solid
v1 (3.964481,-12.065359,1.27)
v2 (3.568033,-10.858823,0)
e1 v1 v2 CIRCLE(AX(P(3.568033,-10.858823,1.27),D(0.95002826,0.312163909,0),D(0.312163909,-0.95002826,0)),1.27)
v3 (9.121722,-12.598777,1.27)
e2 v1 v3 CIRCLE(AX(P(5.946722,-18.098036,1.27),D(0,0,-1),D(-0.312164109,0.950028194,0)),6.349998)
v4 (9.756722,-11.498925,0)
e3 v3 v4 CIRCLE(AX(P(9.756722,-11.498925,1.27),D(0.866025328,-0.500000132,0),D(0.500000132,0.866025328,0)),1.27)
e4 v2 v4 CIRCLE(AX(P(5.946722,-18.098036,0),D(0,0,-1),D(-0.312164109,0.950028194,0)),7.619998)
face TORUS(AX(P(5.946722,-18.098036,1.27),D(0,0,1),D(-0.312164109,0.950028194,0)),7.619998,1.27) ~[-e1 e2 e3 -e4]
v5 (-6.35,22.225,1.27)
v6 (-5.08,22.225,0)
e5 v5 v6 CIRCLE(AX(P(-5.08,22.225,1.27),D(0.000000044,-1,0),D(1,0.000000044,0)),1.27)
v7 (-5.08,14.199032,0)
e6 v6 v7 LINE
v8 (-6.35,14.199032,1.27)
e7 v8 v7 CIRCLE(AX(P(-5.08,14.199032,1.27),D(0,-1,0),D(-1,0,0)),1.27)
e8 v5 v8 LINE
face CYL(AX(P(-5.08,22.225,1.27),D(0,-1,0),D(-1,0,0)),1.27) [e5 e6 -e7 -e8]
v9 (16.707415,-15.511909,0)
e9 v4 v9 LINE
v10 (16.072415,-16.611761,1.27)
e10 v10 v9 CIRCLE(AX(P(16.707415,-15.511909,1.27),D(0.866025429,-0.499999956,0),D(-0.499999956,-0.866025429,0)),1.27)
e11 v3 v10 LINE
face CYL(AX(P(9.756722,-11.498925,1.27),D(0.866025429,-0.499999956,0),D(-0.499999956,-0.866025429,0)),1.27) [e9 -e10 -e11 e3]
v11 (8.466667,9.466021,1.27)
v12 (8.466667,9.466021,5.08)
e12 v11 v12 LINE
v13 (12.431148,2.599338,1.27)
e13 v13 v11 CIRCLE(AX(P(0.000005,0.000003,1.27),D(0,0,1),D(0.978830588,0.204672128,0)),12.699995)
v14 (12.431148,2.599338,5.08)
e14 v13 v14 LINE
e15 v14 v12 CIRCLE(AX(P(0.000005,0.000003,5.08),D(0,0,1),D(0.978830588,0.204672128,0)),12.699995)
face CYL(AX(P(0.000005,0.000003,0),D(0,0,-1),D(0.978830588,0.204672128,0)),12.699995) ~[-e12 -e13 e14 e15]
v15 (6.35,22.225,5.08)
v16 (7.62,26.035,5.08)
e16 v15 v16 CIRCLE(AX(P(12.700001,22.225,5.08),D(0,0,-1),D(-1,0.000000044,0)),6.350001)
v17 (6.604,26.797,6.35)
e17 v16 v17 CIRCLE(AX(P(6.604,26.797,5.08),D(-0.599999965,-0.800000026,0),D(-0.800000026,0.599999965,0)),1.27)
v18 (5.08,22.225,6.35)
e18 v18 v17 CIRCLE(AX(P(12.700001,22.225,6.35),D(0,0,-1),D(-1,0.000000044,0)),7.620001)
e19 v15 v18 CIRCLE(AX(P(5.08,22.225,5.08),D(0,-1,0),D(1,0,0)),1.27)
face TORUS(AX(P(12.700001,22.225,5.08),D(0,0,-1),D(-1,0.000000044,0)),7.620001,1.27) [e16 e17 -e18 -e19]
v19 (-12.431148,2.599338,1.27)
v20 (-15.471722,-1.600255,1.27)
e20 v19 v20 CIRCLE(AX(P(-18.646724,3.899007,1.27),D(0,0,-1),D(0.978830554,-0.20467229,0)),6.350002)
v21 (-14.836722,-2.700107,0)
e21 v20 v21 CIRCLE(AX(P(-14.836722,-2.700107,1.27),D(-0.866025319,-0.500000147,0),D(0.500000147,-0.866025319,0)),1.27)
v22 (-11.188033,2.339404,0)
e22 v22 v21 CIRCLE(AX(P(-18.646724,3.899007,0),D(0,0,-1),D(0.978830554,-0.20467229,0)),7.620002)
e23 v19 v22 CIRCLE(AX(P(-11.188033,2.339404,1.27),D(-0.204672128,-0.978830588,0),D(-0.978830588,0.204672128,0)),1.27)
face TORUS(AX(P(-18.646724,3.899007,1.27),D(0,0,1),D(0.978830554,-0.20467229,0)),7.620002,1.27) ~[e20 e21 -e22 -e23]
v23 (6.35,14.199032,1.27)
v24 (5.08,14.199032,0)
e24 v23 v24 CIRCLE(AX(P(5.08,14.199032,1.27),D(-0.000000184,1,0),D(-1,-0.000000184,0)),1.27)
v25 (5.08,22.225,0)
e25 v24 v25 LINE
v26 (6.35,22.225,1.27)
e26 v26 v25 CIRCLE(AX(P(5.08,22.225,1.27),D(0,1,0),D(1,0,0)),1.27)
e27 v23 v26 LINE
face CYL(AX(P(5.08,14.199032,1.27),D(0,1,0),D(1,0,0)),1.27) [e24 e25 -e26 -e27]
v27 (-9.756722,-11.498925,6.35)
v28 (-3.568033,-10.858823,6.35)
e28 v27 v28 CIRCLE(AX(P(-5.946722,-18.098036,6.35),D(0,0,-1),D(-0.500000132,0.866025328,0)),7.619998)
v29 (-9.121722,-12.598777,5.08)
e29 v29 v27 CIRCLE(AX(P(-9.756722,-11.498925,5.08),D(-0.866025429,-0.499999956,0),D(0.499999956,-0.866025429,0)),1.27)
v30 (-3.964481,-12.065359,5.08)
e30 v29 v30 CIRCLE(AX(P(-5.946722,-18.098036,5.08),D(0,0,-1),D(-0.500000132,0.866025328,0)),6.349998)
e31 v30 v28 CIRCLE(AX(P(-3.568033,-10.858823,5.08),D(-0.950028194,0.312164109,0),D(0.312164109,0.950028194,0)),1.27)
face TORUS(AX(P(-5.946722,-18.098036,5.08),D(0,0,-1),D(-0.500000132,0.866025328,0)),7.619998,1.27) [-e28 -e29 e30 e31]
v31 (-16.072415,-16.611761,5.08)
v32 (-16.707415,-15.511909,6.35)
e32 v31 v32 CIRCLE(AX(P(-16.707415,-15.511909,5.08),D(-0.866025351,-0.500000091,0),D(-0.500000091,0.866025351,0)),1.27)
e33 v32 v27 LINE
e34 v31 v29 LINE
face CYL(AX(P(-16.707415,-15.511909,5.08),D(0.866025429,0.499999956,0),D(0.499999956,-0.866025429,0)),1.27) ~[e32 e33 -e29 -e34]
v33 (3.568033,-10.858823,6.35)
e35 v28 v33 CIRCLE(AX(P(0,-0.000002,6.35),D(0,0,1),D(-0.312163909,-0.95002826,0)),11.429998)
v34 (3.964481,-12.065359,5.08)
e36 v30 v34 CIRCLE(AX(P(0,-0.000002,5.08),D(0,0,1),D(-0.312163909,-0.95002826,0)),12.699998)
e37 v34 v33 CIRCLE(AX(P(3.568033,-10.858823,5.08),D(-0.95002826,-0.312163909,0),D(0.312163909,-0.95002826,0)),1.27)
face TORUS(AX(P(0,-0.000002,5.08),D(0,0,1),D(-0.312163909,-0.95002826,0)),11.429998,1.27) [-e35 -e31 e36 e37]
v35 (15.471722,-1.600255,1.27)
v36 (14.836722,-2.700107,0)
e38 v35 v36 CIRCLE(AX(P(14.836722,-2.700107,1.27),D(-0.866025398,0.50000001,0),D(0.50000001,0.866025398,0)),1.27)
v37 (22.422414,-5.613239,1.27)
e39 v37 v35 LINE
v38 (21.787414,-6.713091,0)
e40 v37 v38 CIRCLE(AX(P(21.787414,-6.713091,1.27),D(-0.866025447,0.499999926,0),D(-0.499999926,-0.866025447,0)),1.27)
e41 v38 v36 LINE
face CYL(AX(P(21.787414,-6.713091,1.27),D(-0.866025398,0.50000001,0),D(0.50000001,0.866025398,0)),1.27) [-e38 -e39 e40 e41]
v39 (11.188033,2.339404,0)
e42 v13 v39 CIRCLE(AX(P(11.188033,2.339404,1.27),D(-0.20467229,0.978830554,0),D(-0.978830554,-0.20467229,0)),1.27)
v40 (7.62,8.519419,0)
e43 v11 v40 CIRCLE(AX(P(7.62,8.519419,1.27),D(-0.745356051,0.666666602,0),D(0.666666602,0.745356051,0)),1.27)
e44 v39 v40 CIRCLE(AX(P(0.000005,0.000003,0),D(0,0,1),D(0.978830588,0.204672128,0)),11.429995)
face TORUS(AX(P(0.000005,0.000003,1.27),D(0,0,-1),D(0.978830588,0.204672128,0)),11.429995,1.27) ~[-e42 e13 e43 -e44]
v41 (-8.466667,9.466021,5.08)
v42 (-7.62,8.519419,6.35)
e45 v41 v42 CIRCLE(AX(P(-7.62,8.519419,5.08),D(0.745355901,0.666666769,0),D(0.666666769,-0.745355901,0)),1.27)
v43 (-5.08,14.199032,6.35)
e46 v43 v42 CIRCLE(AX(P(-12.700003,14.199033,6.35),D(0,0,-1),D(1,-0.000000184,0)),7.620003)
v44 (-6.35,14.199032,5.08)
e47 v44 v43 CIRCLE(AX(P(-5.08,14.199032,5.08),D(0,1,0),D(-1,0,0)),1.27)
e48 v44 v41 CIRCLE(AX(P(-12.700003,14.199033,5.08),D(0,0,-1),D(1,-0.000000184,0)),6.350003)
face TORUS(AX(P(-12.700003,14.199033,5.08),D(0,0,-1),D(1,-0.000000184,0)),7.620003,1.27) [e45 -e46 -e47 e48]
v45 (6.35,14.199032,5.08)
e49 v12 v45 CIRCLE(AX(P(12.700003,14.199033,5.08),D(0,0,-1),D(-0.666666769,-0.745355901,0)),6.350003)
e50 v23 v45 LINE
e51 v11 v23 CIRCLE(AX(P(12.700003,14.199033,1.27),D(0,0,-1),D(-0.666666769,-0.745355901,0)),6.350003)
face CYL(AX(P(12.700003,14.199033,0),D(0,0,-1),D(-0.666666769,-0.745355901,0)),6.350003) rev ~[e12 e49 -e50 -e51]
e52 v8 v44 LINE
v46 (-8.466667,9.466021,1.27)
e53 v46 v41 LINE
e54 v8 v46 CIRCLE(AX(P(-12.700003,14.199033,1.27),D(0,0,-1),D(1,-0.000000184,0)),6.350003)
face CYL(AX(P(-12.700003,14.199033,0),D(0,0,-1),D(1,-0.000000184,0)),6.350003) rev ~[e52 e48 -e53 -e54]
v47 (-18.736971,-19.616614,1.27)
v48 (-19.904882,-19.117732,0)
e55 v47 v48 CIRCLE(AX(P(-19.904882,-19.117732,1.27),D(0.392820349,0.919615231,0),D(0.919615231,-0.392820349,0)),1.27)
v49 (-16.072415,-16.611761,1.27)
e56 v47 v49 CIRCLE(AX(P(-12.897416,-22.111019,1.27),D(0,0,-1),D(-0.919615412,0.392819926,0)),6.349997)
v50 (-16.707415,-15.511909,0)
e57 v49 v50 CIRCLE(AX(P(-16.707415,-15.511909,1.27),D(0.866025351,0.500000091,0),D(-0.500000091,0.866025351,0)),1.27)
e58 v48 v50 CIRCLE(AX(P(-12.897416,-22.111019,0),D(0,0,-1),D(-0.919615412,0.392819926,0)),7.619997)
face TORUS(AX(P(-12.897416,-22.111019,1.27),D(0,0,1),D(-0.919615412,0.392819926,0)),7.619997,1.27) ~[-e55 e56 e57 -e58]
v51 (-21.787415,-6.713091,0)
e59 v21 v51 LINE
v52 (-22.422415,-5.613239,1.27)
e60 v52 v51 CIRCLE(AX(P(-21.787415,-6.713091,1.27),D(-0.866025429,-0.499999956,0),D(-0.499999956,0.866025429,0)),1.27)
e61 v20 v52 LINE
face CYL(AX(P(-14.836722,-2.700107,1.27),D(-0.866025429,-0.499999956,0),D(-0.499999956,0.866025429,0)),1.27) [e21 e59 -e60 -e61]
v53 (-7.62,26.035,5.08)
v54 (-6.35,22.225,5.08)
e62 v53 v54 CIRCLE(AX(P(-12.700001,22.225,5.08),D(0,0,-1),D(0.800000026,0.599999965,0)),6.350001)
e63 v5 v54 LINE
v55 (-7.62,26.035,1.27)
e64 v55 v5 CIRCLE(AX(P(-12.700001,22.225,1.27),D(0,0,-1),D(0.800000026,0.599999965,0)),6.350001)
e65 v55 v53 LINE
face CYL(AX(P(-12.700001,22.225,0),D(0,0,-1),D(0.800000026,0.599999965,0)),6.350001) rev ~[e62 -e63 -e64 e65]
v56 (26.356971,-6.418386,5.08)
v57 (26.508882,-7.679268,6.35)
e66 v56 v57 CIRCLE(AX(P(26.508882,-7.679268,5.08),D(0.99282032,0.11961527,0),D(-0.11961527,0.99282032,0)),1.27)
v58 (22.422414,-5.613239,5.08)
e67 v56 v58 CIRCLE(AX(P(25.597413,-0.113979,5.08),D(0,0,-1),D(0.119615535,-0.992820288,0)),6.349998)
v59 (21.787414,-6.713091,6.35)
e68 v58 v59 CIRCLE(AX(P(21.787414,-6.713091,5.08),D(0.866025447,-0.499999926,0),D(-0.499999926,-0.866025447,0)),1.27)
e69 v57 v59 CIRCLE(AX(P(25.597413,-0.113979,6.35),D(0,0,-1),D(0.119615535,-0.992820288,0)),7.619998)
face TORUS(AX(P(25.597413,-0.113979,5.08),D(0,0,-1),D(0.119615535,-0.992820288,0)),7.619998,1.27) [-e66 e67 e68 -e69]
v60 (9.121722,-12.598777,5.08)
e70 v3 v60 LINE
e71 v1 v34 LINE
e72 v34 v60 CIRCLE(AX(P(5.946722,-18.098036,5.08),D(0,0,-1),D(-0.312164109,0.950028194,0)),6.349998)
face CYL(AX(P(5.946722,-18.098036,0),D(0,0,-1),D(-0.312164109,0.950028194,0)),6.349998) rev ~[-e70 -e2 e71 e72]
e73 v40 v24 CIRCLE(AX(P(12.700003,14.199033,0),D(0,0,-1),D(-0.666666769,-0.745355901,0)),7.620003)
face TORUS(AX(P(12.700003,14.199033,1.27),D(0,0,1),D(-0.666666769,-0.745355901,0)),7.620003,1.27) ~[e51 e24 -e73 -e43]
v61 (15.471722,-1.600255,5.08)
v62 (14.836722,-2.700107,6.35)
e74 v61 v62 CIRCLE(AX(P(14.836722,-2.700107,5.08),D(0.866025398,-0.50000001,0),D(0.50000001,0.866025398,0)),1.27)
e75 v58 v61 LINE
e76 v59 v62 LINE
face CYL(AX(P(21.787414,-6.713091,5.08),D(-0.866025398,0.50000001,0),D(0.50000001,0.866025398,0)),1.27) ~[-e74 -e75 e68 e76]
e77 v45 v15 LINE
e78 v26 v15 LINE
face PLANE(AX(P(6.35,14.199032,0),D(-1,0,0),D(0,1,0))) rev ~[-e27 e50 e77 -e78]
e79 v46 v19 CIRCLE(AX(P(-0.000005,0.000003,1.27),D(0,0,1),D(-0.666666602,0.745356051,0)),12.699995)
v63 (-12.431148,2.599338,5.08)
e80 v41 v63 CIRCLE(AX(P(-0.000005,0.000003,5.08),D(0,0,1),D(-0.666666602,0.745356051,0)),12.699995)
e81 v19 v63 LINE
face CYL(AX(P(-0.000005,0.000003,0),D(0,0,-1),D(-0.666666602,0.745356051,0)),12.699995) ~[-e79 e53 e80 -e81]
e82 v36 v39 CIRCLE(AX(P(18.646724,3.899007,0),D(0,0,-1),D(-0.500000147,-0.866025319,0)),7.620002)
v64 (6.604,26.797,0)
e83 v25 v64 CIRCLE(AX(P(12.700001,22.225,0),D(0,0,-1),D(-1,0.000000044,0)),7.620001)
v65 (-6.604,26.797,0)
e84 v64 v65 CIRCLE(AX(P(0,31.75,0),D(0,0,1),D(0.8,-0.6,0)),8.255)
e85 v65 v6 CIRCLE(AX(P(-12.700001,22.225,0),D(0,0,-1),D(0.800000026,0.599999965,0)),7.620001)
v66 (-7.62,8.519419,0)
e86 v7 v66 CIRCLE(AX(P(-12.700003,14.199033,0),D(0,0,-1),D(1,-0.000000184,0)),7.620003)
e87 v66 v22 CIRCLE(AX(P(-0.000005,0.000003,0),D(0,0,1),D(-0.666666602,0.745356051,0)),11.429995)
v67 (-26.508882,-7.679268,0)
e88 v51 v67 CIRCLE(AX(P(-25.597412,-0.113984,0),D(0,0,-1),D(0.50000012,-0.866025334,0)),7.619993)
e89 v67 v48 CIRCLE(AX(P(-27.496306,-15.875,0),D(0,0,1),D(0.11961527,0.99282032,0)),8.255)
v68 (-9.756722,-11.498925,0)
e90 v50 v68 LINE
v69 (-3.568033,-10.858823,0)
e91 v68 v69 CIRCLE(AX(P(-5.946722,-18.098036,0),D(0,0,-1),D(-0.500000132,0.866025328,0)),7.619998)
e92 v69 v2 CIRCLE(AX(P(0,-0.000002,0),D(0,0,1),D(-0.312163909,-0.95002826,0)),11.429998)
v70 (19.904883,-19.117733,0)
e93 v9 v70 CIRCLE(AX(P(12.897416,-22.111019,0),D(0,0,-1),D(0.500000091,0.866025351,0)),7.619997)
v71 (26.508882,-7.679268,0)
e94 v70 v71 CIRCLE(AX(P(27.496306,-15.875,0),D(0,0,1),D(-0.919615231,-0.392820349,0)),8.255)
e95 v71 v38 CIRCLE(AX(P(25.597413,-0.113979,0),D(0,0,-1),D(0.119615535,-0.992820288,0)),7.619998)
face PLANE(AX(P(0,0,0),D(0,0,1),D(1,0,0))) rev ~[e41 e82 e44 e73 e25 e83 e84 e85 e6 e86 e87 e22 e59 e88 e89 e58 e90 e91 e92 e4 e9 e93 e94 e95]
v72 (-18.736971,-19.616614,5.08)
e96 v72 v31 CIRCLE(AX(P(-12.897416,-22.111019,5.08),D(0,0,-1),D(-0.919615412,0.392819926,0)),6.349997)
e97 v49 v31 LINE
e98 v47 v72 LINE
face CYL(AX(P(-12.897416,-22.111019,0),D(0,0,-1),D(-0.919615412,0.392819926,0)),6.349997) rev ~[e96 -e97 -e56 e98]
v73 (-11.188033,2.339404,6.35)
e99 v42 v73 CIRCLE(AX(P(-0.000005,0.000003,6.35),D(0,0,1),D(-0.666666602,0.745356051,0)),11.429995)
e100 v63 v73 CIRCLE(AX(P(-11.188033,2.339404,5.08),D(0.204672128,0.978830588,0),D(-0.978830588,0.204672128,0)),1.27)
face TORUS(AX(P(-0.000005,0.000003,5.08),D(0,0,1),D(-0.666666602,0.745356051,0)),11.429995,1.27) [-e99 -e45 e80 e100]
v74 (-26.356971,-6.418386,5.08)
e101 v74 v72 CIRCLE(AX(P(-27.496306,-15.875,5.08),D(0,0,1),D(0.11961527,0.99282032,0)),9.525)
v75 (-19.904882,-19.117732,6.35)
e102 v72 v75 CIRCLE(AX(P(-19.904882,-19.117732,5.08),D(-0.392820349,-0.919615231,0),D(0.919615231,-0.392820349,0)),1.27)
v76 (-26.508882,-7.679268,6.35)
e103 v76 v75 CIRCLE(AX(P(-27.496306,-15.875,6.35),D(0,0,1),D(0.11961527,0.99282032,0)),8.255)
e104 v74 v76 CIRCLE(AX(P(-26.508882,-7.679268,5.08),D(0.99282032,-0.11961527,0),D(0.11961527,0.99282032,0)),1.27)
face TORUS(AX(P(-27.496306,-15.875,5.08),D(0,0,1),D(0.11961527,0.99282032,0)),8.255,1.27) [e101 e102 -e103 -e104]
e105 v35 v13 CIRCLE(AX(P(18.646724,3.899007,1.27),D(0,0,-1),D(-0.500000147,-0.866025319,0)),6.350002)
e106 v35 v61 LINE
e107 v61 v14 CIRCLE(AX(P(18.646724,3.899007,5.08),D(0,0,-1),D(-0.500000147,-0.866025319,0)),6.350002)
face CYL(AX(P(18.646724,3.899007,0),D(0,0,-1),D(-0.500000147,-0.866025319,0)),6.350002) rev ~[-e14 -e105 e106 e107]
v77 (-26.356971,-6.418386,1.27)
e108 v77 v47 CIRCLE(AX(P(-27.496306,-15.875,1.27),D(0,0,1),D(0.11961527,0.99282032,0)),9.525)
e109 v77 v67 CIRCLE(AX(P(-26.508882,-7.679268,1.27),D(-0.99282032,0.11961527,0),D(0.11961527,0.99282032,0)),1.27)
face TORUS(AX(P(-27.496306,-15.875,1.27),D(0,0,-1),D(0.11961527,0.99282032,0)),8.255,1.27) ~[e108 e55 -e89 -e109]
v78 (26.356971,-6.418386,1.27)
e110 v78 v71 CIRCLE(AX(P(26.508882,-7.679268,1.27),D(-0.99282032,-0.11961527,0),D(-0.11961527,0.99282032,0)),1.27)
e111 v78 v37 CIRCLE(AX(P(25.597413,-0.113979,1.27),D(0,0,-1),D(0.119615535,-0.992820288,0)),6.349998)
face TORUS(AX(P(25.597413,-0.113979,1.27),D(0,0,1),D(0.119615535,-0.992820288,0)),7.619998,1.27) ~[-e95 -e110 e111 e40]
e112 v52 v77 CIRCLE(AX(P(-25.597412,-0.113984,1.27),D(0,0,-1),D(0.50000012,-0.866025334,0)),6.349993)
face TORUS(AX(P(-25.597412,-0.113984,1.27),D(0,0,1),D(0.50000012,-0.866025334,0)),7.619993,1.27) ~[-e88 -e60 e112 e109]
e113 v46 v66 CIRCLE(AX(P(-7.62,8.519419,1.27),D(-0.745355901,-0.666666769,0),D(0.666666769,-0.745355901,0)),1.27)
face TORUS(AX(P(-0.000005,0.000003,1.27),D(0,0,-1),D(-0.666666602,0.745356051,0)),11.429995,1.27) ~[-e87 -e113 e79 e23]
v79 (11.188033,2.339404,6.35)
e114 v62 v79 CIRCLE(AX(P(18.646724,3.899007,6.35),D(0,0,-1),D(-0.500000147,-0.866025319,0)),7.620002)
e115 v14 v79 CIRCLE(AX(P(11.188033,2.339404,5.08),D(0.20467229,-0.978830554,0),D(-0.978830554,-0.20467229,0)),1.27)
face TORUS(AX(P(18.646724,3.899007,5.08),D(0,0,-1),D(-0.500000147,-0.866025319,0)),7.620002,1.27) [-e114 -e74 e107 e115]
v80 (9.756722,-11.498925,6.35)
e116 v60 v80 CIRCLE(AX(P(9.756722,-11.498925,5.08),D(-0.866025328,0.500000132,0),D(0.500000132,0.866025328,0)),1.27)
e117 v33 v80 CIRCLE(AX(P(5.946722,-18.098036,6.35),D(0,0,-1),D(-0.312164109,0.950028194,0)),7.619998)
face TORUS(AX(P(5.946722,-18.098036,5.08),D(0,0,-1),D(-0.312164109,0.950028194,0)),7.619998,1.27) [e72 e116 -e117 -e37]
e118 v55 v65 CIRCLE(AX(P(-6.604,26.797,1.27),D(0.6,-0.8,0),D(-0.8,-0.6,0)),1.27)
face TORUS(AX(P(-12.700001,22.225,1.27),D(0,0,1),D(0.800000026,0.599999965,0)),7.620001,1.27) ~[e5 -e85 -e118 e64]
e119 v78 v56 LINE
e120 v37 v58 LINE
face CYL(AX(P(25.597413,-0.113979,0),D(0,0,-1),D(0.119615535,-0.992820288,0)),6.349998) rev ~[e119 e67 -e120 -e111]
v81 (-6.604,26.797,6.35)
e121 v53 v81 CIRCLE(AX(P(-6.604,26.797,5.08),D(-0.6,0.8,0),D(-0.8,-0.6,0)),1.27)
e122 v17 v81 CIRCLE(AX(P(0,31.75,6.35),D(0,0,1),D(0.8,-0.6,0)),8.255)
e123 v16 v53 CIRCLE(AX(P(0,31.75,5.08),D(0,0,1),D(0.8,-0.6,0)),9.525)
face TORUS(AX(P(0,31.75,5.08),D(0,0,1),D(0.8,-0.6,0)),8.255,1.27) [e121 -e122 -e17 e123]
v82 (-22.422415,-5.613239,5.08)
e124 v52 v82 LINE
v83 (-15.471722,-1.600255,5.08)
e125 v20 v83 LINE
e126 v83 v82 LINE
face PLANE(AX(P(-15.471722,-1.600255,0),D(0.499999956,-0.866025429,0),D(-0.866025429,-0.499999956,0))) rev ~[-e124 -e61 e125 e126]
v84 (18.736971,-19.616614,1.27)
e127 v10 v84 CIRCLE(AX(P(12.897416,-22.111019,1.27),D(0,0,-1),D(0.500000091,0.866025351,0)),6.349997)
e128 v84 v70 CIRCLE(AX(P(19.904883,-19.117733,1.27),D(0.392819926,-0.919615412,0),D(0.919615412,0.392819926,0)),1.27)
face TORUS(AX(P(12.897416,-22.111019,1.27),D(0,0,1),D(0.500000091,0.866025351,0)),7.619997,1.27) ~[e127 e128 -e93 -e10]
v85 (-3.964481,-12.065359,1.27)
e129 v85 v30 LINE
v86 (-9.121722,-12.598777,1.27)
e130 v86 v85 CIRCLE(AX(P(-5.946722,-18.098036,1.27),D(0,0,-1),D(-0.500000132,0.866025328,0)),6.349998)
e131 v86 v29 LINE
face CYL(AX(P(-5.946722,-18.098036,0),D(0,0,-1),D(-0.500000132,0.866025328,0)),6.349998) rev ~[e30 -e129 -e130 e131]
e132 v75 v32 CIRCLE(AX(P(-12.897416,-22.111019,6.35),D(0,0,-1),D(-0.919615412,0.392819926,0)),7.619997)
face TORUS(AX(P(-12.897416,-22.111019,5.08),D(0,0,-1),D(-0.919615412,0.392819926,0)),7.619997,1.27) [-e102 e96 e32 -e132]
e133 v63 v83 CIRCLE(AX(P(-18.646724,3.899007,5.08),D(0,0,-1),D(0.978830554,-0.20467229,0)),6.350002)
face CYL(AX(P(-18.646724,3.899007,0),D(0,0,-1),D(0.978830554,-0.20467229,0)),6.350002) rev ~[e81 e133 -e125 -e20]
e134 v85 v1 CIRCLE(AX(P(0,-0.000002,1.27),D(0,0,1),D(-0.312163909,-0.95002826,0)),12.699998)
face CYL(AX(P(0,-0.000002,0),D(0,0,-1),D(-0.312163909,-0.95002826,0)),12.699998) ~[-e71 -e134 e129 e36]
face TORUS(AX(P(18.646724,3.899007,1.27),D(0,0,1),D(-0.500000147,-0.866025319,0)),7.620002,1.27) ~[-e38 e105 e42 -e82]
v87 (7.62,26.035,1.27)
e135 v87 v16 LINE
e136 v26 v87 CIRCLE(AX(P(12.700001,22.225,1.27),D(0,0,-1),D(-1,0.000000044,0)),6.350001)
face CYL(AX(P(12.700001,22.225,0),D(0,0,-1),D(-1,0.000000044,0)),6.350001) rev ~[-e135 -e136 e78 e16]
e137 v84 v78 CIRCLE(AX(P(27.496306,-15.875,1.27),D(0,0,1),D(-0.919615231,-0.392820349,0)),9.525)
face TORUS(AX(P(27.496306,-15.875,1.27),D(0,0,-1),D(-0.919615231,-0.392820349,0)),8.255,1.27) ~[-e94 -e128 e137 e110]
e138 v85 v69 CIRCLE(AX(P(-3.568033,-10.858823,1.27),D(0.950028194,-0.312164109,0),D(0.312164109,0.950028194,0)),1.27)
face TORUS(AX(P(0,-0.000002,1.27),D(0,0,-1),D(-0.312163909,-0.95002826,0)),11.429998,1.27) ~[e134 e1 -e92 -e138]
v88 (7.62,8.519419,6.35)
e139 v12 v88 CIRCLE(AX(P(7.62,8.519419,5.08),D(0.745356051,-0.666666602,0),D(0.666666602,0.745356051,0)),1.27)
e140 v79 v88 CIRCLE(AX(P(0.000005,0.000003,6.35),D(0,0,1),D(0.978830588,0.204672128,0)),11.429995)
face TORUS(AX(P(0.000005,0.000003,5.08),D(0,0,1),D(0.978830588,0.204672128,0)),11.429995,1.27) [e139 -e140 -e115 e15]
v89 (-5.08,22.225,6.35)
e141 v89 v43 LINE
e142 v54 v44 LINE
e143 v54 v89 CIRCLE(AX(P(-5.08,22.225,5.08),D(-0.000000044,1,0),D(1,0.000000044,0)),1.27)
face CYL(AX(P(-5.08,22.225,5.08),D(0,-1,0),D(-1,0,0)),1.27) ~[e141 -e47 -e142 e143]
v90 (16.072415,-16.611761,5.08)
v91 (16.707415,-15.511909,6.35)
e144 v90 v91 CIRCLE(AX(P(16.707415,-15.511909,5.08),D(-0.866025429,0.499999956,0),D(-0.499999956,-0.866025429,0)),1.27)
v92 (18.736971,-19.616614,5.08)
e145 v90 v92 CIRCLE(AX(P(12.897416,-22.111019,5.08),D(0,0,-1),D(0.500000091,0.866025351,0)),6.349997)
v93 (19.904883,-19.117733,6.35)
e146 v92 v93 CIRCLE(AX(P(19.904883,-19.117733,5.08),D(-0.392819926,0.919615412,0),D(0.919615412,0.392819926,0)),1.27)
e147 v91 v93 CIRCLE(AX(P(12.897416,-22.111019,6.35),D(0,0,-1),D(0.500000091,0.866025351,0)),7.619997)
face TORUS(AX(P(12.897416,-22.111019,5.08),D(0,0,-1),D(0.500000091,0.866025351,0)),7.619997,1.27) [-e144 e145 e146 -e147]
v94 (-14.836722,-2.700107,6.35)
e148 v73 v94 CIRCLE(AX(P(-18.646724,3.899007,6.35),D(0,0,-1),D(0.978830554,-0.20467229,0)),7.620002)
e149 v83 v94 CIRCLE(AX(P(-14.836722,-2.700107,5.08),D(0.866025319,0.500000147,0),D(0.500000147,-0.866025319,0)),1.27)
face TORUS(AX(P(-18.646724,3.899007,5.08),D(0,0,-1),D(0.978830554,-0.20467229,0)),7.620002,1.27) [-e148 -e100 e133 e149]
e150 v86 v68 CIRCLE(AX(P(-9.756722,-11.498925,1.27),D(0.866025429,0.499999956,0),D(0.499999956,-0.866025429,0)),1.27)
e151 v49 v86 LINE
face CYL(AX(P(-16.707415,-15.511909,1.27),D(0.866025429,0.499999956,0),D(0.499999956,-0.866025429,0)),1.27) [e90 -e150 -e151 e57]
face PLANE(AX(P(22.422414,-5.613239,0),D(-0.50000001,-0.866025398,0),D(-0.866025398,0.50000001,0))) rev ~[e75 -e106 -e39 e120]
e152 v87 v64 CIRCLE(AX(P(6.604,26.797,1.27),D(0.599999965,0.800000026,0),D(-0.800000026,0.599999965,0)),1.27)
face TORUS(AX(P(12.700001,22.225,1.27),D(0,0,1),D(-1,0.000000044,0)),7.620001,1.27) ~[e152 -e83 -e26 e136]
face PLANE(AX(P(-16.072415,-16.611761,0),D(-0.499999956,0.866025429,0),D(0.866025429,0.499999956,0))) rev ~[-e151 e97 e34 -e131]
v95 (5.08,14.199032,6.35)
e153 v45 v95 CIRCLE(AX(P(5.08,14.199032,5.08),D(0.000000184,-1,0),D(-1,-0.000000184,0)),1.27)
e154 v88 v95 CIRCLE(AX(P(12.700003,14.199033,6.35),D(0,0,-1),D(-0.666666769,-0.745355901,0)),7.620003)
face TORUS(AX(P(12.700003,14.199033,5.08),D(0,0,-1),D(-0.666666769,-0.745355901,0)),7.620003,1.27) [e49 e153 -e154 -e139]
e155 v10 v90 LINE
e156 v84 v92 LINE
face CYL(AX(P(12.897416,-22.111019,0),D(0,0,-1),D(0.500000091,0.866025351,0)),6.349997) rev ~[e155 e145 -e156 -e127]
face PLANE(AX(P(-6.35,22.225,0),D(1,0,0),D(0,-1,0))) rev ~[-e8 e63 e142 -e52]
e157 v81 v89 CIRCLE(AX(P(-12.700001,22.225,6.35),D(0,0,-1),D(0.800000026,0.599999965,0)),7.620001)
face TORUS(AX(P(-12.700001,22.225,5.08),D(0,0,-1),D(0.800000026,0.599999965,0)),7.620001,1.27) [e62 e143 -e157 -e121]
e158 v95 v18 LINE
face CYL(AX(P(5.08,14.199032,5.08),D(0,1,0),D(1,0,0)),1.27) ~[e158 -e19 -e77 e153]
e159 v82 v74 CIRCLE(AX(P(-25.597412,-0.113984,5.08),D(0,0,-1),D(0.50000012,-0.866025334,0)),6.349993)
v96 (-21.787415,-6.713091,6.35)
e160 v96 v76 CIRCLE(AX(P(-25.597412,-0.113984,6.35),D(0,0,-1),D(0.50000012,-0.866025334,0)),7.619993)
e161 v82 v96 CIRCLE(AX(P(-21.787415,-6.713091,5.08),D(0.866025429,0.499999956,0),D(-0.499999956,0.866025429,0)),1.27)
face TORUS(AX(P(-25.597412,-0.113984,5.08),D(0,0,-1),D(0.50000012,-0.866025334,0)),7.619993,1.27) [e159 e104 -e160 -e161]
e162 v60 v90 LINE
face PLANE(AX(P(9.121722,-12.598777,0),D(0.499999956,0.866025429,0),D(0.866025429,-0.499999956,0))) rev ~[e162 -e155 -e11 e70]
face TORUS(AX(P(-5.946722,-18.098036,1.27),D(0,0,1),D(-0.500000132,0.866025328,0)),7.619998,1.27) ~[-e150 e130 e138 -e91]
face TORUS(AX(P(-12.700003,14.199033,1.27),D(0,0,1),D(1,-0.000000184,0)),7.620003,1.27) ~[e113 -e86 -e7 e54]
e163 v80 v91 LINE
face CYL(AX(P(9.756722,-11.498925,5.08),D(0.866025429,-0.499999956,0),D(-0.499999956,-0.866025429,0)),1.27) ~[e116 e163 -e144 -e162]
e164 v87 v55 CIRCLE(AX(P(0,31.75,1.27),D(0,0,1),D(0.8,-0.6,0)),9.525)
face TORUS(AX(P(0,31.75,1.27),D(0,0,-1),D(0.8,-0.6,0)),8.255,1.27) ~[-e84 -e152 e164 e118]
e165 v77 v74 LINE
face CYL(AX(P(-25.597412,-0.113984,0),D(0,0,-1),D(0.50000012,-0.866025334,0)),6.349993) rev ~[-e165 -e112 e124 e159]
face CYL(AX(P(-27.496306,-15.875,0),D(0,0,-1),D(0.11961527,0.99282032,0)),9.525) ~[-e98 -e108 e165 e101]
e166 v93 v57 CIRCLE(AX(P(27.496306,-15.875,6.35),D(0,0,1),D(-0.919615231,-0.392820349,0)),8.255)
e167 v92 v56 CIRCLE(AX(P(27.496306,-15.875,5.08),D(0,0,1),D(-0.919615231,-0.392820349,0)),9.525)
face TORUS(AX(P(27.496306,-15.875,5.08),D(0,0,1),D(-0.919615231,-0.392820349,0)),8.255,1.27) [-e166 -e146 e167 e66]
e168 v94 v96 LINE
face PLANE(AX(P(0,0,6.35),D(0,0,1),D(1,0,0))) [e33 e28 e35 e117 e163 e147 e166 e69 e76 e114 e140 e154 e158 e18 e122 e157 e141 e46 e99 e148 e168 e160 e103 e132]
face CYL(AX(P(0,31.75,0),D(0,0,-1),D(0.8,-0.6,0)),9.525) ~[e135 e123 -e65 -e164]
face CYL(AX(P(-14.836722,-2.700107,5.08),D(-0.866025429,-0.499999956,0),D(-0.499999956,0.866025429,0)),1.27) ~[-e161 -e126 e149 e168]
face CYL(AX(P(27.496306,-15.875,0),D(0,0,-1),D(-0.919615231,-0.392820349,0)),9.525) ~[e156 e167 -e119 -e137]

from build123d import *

# Parameters (mm, degrees)
F1_DEPTH = 6.35
F2_R     = 1.27


with BuildPart() as f1:
    # F0 (on Top) → F1 (new body)
    with BuildSketch(Plane.XY):
        with BuildLine():
            ThreePointArc((6.35, 22.225), (6.675861, 24.233046), (7.62, 26.035))
            ThreePointArc((7.62, 26.035), (0, 41.275), (-7.62, 26.035))
            ThreePointArc((-7.62, 26.035), (-6.675861, 24.233046), (-6.35, 22.225))
            Line((-6.35, 22.225), (-6.35, 14.199032))
            ThreePointArc((-6.35, 14.199032), (-6.90327, 11.606655), (-8.466667, 9.466021))
            ThreePointArc((-8.466667, 9.466021), (-10.998523, 6.35), (-12.431148, 2.599338))
            ThreePointArc((-12.431148, 2.599338), (-13.503293, 0.175079), (-15.471722, -1.600255))
            Line((-15.471722, -1.600255), (-22.422415, -5.613239))
            ThreePointArc((-22.422415, -5.613239), (-24.324364, -6.335058), (-26.356971, -6.418386))
            ThreePointArc((-26.356971, -6.418386), (-35.745199, -20.6375), (-18.736971, -19.616614))
            ThreePointArc((-18.736971, -19.616614), (-17.648503, -17.897988), (-16.072415, -16.611761))
            Line((-16.072415, -16.611761), (-9.121722, -12.598777))
            ThreePointArc((-9.121722, -12.598777), (-6.600023, -11.781734), (-3.964481, -12.065359))
            ThreePointArc((-3.964481, -12.065359), (0, -12.7), (3.964481, -12.065359))
            ThreePointArc((3.964481, -12.065359), (6.600023, -11.781734), (9.121722, -12.598777))
            Line((9.121722, -12.598777), (16.072415, -16.611761))
            ThreePointArc((16.072415, -16.611761), (17.648503, -17.897988), (18.736971, -19.616614))
            ThreePointArc((18.736971, -19.616614), (35.745199, -20.6375), (26.356971, -6.418386))
            ThreePointArc((26.356971, -6.418386), (24.324364, -6.335058), (22.422414, -5.613239))
            Line((22.422414, -5.613239), (15.471722, -1.600255))
            ThreePointArc((15.471722, -1.600255), (13.503293, 0.175079), (12.431148, 2.599338))
            ThreePointArc((12.431148, 2.599338), (10.998523, 6.35), (8.466667, 9.466021))
            ThreePointArc((8.466667, 9.466021), (6.90327, 11.606655), (6.35, 14.199032))
            Line((6.35, 14.199032), (6.35, 22.225))
        make_face()
    extrude(amount=F1_DEPTH)

    # F2
    f2_edges = [f1.edges().sort_by_distance(p)[0] for p in [
        (-35.745199, -20.6375, 6.35),
        (-35.745199, -20.6375, 0),
    ]]
    fillet(f2_edges, radius=F2_R)


solid = f1.part
